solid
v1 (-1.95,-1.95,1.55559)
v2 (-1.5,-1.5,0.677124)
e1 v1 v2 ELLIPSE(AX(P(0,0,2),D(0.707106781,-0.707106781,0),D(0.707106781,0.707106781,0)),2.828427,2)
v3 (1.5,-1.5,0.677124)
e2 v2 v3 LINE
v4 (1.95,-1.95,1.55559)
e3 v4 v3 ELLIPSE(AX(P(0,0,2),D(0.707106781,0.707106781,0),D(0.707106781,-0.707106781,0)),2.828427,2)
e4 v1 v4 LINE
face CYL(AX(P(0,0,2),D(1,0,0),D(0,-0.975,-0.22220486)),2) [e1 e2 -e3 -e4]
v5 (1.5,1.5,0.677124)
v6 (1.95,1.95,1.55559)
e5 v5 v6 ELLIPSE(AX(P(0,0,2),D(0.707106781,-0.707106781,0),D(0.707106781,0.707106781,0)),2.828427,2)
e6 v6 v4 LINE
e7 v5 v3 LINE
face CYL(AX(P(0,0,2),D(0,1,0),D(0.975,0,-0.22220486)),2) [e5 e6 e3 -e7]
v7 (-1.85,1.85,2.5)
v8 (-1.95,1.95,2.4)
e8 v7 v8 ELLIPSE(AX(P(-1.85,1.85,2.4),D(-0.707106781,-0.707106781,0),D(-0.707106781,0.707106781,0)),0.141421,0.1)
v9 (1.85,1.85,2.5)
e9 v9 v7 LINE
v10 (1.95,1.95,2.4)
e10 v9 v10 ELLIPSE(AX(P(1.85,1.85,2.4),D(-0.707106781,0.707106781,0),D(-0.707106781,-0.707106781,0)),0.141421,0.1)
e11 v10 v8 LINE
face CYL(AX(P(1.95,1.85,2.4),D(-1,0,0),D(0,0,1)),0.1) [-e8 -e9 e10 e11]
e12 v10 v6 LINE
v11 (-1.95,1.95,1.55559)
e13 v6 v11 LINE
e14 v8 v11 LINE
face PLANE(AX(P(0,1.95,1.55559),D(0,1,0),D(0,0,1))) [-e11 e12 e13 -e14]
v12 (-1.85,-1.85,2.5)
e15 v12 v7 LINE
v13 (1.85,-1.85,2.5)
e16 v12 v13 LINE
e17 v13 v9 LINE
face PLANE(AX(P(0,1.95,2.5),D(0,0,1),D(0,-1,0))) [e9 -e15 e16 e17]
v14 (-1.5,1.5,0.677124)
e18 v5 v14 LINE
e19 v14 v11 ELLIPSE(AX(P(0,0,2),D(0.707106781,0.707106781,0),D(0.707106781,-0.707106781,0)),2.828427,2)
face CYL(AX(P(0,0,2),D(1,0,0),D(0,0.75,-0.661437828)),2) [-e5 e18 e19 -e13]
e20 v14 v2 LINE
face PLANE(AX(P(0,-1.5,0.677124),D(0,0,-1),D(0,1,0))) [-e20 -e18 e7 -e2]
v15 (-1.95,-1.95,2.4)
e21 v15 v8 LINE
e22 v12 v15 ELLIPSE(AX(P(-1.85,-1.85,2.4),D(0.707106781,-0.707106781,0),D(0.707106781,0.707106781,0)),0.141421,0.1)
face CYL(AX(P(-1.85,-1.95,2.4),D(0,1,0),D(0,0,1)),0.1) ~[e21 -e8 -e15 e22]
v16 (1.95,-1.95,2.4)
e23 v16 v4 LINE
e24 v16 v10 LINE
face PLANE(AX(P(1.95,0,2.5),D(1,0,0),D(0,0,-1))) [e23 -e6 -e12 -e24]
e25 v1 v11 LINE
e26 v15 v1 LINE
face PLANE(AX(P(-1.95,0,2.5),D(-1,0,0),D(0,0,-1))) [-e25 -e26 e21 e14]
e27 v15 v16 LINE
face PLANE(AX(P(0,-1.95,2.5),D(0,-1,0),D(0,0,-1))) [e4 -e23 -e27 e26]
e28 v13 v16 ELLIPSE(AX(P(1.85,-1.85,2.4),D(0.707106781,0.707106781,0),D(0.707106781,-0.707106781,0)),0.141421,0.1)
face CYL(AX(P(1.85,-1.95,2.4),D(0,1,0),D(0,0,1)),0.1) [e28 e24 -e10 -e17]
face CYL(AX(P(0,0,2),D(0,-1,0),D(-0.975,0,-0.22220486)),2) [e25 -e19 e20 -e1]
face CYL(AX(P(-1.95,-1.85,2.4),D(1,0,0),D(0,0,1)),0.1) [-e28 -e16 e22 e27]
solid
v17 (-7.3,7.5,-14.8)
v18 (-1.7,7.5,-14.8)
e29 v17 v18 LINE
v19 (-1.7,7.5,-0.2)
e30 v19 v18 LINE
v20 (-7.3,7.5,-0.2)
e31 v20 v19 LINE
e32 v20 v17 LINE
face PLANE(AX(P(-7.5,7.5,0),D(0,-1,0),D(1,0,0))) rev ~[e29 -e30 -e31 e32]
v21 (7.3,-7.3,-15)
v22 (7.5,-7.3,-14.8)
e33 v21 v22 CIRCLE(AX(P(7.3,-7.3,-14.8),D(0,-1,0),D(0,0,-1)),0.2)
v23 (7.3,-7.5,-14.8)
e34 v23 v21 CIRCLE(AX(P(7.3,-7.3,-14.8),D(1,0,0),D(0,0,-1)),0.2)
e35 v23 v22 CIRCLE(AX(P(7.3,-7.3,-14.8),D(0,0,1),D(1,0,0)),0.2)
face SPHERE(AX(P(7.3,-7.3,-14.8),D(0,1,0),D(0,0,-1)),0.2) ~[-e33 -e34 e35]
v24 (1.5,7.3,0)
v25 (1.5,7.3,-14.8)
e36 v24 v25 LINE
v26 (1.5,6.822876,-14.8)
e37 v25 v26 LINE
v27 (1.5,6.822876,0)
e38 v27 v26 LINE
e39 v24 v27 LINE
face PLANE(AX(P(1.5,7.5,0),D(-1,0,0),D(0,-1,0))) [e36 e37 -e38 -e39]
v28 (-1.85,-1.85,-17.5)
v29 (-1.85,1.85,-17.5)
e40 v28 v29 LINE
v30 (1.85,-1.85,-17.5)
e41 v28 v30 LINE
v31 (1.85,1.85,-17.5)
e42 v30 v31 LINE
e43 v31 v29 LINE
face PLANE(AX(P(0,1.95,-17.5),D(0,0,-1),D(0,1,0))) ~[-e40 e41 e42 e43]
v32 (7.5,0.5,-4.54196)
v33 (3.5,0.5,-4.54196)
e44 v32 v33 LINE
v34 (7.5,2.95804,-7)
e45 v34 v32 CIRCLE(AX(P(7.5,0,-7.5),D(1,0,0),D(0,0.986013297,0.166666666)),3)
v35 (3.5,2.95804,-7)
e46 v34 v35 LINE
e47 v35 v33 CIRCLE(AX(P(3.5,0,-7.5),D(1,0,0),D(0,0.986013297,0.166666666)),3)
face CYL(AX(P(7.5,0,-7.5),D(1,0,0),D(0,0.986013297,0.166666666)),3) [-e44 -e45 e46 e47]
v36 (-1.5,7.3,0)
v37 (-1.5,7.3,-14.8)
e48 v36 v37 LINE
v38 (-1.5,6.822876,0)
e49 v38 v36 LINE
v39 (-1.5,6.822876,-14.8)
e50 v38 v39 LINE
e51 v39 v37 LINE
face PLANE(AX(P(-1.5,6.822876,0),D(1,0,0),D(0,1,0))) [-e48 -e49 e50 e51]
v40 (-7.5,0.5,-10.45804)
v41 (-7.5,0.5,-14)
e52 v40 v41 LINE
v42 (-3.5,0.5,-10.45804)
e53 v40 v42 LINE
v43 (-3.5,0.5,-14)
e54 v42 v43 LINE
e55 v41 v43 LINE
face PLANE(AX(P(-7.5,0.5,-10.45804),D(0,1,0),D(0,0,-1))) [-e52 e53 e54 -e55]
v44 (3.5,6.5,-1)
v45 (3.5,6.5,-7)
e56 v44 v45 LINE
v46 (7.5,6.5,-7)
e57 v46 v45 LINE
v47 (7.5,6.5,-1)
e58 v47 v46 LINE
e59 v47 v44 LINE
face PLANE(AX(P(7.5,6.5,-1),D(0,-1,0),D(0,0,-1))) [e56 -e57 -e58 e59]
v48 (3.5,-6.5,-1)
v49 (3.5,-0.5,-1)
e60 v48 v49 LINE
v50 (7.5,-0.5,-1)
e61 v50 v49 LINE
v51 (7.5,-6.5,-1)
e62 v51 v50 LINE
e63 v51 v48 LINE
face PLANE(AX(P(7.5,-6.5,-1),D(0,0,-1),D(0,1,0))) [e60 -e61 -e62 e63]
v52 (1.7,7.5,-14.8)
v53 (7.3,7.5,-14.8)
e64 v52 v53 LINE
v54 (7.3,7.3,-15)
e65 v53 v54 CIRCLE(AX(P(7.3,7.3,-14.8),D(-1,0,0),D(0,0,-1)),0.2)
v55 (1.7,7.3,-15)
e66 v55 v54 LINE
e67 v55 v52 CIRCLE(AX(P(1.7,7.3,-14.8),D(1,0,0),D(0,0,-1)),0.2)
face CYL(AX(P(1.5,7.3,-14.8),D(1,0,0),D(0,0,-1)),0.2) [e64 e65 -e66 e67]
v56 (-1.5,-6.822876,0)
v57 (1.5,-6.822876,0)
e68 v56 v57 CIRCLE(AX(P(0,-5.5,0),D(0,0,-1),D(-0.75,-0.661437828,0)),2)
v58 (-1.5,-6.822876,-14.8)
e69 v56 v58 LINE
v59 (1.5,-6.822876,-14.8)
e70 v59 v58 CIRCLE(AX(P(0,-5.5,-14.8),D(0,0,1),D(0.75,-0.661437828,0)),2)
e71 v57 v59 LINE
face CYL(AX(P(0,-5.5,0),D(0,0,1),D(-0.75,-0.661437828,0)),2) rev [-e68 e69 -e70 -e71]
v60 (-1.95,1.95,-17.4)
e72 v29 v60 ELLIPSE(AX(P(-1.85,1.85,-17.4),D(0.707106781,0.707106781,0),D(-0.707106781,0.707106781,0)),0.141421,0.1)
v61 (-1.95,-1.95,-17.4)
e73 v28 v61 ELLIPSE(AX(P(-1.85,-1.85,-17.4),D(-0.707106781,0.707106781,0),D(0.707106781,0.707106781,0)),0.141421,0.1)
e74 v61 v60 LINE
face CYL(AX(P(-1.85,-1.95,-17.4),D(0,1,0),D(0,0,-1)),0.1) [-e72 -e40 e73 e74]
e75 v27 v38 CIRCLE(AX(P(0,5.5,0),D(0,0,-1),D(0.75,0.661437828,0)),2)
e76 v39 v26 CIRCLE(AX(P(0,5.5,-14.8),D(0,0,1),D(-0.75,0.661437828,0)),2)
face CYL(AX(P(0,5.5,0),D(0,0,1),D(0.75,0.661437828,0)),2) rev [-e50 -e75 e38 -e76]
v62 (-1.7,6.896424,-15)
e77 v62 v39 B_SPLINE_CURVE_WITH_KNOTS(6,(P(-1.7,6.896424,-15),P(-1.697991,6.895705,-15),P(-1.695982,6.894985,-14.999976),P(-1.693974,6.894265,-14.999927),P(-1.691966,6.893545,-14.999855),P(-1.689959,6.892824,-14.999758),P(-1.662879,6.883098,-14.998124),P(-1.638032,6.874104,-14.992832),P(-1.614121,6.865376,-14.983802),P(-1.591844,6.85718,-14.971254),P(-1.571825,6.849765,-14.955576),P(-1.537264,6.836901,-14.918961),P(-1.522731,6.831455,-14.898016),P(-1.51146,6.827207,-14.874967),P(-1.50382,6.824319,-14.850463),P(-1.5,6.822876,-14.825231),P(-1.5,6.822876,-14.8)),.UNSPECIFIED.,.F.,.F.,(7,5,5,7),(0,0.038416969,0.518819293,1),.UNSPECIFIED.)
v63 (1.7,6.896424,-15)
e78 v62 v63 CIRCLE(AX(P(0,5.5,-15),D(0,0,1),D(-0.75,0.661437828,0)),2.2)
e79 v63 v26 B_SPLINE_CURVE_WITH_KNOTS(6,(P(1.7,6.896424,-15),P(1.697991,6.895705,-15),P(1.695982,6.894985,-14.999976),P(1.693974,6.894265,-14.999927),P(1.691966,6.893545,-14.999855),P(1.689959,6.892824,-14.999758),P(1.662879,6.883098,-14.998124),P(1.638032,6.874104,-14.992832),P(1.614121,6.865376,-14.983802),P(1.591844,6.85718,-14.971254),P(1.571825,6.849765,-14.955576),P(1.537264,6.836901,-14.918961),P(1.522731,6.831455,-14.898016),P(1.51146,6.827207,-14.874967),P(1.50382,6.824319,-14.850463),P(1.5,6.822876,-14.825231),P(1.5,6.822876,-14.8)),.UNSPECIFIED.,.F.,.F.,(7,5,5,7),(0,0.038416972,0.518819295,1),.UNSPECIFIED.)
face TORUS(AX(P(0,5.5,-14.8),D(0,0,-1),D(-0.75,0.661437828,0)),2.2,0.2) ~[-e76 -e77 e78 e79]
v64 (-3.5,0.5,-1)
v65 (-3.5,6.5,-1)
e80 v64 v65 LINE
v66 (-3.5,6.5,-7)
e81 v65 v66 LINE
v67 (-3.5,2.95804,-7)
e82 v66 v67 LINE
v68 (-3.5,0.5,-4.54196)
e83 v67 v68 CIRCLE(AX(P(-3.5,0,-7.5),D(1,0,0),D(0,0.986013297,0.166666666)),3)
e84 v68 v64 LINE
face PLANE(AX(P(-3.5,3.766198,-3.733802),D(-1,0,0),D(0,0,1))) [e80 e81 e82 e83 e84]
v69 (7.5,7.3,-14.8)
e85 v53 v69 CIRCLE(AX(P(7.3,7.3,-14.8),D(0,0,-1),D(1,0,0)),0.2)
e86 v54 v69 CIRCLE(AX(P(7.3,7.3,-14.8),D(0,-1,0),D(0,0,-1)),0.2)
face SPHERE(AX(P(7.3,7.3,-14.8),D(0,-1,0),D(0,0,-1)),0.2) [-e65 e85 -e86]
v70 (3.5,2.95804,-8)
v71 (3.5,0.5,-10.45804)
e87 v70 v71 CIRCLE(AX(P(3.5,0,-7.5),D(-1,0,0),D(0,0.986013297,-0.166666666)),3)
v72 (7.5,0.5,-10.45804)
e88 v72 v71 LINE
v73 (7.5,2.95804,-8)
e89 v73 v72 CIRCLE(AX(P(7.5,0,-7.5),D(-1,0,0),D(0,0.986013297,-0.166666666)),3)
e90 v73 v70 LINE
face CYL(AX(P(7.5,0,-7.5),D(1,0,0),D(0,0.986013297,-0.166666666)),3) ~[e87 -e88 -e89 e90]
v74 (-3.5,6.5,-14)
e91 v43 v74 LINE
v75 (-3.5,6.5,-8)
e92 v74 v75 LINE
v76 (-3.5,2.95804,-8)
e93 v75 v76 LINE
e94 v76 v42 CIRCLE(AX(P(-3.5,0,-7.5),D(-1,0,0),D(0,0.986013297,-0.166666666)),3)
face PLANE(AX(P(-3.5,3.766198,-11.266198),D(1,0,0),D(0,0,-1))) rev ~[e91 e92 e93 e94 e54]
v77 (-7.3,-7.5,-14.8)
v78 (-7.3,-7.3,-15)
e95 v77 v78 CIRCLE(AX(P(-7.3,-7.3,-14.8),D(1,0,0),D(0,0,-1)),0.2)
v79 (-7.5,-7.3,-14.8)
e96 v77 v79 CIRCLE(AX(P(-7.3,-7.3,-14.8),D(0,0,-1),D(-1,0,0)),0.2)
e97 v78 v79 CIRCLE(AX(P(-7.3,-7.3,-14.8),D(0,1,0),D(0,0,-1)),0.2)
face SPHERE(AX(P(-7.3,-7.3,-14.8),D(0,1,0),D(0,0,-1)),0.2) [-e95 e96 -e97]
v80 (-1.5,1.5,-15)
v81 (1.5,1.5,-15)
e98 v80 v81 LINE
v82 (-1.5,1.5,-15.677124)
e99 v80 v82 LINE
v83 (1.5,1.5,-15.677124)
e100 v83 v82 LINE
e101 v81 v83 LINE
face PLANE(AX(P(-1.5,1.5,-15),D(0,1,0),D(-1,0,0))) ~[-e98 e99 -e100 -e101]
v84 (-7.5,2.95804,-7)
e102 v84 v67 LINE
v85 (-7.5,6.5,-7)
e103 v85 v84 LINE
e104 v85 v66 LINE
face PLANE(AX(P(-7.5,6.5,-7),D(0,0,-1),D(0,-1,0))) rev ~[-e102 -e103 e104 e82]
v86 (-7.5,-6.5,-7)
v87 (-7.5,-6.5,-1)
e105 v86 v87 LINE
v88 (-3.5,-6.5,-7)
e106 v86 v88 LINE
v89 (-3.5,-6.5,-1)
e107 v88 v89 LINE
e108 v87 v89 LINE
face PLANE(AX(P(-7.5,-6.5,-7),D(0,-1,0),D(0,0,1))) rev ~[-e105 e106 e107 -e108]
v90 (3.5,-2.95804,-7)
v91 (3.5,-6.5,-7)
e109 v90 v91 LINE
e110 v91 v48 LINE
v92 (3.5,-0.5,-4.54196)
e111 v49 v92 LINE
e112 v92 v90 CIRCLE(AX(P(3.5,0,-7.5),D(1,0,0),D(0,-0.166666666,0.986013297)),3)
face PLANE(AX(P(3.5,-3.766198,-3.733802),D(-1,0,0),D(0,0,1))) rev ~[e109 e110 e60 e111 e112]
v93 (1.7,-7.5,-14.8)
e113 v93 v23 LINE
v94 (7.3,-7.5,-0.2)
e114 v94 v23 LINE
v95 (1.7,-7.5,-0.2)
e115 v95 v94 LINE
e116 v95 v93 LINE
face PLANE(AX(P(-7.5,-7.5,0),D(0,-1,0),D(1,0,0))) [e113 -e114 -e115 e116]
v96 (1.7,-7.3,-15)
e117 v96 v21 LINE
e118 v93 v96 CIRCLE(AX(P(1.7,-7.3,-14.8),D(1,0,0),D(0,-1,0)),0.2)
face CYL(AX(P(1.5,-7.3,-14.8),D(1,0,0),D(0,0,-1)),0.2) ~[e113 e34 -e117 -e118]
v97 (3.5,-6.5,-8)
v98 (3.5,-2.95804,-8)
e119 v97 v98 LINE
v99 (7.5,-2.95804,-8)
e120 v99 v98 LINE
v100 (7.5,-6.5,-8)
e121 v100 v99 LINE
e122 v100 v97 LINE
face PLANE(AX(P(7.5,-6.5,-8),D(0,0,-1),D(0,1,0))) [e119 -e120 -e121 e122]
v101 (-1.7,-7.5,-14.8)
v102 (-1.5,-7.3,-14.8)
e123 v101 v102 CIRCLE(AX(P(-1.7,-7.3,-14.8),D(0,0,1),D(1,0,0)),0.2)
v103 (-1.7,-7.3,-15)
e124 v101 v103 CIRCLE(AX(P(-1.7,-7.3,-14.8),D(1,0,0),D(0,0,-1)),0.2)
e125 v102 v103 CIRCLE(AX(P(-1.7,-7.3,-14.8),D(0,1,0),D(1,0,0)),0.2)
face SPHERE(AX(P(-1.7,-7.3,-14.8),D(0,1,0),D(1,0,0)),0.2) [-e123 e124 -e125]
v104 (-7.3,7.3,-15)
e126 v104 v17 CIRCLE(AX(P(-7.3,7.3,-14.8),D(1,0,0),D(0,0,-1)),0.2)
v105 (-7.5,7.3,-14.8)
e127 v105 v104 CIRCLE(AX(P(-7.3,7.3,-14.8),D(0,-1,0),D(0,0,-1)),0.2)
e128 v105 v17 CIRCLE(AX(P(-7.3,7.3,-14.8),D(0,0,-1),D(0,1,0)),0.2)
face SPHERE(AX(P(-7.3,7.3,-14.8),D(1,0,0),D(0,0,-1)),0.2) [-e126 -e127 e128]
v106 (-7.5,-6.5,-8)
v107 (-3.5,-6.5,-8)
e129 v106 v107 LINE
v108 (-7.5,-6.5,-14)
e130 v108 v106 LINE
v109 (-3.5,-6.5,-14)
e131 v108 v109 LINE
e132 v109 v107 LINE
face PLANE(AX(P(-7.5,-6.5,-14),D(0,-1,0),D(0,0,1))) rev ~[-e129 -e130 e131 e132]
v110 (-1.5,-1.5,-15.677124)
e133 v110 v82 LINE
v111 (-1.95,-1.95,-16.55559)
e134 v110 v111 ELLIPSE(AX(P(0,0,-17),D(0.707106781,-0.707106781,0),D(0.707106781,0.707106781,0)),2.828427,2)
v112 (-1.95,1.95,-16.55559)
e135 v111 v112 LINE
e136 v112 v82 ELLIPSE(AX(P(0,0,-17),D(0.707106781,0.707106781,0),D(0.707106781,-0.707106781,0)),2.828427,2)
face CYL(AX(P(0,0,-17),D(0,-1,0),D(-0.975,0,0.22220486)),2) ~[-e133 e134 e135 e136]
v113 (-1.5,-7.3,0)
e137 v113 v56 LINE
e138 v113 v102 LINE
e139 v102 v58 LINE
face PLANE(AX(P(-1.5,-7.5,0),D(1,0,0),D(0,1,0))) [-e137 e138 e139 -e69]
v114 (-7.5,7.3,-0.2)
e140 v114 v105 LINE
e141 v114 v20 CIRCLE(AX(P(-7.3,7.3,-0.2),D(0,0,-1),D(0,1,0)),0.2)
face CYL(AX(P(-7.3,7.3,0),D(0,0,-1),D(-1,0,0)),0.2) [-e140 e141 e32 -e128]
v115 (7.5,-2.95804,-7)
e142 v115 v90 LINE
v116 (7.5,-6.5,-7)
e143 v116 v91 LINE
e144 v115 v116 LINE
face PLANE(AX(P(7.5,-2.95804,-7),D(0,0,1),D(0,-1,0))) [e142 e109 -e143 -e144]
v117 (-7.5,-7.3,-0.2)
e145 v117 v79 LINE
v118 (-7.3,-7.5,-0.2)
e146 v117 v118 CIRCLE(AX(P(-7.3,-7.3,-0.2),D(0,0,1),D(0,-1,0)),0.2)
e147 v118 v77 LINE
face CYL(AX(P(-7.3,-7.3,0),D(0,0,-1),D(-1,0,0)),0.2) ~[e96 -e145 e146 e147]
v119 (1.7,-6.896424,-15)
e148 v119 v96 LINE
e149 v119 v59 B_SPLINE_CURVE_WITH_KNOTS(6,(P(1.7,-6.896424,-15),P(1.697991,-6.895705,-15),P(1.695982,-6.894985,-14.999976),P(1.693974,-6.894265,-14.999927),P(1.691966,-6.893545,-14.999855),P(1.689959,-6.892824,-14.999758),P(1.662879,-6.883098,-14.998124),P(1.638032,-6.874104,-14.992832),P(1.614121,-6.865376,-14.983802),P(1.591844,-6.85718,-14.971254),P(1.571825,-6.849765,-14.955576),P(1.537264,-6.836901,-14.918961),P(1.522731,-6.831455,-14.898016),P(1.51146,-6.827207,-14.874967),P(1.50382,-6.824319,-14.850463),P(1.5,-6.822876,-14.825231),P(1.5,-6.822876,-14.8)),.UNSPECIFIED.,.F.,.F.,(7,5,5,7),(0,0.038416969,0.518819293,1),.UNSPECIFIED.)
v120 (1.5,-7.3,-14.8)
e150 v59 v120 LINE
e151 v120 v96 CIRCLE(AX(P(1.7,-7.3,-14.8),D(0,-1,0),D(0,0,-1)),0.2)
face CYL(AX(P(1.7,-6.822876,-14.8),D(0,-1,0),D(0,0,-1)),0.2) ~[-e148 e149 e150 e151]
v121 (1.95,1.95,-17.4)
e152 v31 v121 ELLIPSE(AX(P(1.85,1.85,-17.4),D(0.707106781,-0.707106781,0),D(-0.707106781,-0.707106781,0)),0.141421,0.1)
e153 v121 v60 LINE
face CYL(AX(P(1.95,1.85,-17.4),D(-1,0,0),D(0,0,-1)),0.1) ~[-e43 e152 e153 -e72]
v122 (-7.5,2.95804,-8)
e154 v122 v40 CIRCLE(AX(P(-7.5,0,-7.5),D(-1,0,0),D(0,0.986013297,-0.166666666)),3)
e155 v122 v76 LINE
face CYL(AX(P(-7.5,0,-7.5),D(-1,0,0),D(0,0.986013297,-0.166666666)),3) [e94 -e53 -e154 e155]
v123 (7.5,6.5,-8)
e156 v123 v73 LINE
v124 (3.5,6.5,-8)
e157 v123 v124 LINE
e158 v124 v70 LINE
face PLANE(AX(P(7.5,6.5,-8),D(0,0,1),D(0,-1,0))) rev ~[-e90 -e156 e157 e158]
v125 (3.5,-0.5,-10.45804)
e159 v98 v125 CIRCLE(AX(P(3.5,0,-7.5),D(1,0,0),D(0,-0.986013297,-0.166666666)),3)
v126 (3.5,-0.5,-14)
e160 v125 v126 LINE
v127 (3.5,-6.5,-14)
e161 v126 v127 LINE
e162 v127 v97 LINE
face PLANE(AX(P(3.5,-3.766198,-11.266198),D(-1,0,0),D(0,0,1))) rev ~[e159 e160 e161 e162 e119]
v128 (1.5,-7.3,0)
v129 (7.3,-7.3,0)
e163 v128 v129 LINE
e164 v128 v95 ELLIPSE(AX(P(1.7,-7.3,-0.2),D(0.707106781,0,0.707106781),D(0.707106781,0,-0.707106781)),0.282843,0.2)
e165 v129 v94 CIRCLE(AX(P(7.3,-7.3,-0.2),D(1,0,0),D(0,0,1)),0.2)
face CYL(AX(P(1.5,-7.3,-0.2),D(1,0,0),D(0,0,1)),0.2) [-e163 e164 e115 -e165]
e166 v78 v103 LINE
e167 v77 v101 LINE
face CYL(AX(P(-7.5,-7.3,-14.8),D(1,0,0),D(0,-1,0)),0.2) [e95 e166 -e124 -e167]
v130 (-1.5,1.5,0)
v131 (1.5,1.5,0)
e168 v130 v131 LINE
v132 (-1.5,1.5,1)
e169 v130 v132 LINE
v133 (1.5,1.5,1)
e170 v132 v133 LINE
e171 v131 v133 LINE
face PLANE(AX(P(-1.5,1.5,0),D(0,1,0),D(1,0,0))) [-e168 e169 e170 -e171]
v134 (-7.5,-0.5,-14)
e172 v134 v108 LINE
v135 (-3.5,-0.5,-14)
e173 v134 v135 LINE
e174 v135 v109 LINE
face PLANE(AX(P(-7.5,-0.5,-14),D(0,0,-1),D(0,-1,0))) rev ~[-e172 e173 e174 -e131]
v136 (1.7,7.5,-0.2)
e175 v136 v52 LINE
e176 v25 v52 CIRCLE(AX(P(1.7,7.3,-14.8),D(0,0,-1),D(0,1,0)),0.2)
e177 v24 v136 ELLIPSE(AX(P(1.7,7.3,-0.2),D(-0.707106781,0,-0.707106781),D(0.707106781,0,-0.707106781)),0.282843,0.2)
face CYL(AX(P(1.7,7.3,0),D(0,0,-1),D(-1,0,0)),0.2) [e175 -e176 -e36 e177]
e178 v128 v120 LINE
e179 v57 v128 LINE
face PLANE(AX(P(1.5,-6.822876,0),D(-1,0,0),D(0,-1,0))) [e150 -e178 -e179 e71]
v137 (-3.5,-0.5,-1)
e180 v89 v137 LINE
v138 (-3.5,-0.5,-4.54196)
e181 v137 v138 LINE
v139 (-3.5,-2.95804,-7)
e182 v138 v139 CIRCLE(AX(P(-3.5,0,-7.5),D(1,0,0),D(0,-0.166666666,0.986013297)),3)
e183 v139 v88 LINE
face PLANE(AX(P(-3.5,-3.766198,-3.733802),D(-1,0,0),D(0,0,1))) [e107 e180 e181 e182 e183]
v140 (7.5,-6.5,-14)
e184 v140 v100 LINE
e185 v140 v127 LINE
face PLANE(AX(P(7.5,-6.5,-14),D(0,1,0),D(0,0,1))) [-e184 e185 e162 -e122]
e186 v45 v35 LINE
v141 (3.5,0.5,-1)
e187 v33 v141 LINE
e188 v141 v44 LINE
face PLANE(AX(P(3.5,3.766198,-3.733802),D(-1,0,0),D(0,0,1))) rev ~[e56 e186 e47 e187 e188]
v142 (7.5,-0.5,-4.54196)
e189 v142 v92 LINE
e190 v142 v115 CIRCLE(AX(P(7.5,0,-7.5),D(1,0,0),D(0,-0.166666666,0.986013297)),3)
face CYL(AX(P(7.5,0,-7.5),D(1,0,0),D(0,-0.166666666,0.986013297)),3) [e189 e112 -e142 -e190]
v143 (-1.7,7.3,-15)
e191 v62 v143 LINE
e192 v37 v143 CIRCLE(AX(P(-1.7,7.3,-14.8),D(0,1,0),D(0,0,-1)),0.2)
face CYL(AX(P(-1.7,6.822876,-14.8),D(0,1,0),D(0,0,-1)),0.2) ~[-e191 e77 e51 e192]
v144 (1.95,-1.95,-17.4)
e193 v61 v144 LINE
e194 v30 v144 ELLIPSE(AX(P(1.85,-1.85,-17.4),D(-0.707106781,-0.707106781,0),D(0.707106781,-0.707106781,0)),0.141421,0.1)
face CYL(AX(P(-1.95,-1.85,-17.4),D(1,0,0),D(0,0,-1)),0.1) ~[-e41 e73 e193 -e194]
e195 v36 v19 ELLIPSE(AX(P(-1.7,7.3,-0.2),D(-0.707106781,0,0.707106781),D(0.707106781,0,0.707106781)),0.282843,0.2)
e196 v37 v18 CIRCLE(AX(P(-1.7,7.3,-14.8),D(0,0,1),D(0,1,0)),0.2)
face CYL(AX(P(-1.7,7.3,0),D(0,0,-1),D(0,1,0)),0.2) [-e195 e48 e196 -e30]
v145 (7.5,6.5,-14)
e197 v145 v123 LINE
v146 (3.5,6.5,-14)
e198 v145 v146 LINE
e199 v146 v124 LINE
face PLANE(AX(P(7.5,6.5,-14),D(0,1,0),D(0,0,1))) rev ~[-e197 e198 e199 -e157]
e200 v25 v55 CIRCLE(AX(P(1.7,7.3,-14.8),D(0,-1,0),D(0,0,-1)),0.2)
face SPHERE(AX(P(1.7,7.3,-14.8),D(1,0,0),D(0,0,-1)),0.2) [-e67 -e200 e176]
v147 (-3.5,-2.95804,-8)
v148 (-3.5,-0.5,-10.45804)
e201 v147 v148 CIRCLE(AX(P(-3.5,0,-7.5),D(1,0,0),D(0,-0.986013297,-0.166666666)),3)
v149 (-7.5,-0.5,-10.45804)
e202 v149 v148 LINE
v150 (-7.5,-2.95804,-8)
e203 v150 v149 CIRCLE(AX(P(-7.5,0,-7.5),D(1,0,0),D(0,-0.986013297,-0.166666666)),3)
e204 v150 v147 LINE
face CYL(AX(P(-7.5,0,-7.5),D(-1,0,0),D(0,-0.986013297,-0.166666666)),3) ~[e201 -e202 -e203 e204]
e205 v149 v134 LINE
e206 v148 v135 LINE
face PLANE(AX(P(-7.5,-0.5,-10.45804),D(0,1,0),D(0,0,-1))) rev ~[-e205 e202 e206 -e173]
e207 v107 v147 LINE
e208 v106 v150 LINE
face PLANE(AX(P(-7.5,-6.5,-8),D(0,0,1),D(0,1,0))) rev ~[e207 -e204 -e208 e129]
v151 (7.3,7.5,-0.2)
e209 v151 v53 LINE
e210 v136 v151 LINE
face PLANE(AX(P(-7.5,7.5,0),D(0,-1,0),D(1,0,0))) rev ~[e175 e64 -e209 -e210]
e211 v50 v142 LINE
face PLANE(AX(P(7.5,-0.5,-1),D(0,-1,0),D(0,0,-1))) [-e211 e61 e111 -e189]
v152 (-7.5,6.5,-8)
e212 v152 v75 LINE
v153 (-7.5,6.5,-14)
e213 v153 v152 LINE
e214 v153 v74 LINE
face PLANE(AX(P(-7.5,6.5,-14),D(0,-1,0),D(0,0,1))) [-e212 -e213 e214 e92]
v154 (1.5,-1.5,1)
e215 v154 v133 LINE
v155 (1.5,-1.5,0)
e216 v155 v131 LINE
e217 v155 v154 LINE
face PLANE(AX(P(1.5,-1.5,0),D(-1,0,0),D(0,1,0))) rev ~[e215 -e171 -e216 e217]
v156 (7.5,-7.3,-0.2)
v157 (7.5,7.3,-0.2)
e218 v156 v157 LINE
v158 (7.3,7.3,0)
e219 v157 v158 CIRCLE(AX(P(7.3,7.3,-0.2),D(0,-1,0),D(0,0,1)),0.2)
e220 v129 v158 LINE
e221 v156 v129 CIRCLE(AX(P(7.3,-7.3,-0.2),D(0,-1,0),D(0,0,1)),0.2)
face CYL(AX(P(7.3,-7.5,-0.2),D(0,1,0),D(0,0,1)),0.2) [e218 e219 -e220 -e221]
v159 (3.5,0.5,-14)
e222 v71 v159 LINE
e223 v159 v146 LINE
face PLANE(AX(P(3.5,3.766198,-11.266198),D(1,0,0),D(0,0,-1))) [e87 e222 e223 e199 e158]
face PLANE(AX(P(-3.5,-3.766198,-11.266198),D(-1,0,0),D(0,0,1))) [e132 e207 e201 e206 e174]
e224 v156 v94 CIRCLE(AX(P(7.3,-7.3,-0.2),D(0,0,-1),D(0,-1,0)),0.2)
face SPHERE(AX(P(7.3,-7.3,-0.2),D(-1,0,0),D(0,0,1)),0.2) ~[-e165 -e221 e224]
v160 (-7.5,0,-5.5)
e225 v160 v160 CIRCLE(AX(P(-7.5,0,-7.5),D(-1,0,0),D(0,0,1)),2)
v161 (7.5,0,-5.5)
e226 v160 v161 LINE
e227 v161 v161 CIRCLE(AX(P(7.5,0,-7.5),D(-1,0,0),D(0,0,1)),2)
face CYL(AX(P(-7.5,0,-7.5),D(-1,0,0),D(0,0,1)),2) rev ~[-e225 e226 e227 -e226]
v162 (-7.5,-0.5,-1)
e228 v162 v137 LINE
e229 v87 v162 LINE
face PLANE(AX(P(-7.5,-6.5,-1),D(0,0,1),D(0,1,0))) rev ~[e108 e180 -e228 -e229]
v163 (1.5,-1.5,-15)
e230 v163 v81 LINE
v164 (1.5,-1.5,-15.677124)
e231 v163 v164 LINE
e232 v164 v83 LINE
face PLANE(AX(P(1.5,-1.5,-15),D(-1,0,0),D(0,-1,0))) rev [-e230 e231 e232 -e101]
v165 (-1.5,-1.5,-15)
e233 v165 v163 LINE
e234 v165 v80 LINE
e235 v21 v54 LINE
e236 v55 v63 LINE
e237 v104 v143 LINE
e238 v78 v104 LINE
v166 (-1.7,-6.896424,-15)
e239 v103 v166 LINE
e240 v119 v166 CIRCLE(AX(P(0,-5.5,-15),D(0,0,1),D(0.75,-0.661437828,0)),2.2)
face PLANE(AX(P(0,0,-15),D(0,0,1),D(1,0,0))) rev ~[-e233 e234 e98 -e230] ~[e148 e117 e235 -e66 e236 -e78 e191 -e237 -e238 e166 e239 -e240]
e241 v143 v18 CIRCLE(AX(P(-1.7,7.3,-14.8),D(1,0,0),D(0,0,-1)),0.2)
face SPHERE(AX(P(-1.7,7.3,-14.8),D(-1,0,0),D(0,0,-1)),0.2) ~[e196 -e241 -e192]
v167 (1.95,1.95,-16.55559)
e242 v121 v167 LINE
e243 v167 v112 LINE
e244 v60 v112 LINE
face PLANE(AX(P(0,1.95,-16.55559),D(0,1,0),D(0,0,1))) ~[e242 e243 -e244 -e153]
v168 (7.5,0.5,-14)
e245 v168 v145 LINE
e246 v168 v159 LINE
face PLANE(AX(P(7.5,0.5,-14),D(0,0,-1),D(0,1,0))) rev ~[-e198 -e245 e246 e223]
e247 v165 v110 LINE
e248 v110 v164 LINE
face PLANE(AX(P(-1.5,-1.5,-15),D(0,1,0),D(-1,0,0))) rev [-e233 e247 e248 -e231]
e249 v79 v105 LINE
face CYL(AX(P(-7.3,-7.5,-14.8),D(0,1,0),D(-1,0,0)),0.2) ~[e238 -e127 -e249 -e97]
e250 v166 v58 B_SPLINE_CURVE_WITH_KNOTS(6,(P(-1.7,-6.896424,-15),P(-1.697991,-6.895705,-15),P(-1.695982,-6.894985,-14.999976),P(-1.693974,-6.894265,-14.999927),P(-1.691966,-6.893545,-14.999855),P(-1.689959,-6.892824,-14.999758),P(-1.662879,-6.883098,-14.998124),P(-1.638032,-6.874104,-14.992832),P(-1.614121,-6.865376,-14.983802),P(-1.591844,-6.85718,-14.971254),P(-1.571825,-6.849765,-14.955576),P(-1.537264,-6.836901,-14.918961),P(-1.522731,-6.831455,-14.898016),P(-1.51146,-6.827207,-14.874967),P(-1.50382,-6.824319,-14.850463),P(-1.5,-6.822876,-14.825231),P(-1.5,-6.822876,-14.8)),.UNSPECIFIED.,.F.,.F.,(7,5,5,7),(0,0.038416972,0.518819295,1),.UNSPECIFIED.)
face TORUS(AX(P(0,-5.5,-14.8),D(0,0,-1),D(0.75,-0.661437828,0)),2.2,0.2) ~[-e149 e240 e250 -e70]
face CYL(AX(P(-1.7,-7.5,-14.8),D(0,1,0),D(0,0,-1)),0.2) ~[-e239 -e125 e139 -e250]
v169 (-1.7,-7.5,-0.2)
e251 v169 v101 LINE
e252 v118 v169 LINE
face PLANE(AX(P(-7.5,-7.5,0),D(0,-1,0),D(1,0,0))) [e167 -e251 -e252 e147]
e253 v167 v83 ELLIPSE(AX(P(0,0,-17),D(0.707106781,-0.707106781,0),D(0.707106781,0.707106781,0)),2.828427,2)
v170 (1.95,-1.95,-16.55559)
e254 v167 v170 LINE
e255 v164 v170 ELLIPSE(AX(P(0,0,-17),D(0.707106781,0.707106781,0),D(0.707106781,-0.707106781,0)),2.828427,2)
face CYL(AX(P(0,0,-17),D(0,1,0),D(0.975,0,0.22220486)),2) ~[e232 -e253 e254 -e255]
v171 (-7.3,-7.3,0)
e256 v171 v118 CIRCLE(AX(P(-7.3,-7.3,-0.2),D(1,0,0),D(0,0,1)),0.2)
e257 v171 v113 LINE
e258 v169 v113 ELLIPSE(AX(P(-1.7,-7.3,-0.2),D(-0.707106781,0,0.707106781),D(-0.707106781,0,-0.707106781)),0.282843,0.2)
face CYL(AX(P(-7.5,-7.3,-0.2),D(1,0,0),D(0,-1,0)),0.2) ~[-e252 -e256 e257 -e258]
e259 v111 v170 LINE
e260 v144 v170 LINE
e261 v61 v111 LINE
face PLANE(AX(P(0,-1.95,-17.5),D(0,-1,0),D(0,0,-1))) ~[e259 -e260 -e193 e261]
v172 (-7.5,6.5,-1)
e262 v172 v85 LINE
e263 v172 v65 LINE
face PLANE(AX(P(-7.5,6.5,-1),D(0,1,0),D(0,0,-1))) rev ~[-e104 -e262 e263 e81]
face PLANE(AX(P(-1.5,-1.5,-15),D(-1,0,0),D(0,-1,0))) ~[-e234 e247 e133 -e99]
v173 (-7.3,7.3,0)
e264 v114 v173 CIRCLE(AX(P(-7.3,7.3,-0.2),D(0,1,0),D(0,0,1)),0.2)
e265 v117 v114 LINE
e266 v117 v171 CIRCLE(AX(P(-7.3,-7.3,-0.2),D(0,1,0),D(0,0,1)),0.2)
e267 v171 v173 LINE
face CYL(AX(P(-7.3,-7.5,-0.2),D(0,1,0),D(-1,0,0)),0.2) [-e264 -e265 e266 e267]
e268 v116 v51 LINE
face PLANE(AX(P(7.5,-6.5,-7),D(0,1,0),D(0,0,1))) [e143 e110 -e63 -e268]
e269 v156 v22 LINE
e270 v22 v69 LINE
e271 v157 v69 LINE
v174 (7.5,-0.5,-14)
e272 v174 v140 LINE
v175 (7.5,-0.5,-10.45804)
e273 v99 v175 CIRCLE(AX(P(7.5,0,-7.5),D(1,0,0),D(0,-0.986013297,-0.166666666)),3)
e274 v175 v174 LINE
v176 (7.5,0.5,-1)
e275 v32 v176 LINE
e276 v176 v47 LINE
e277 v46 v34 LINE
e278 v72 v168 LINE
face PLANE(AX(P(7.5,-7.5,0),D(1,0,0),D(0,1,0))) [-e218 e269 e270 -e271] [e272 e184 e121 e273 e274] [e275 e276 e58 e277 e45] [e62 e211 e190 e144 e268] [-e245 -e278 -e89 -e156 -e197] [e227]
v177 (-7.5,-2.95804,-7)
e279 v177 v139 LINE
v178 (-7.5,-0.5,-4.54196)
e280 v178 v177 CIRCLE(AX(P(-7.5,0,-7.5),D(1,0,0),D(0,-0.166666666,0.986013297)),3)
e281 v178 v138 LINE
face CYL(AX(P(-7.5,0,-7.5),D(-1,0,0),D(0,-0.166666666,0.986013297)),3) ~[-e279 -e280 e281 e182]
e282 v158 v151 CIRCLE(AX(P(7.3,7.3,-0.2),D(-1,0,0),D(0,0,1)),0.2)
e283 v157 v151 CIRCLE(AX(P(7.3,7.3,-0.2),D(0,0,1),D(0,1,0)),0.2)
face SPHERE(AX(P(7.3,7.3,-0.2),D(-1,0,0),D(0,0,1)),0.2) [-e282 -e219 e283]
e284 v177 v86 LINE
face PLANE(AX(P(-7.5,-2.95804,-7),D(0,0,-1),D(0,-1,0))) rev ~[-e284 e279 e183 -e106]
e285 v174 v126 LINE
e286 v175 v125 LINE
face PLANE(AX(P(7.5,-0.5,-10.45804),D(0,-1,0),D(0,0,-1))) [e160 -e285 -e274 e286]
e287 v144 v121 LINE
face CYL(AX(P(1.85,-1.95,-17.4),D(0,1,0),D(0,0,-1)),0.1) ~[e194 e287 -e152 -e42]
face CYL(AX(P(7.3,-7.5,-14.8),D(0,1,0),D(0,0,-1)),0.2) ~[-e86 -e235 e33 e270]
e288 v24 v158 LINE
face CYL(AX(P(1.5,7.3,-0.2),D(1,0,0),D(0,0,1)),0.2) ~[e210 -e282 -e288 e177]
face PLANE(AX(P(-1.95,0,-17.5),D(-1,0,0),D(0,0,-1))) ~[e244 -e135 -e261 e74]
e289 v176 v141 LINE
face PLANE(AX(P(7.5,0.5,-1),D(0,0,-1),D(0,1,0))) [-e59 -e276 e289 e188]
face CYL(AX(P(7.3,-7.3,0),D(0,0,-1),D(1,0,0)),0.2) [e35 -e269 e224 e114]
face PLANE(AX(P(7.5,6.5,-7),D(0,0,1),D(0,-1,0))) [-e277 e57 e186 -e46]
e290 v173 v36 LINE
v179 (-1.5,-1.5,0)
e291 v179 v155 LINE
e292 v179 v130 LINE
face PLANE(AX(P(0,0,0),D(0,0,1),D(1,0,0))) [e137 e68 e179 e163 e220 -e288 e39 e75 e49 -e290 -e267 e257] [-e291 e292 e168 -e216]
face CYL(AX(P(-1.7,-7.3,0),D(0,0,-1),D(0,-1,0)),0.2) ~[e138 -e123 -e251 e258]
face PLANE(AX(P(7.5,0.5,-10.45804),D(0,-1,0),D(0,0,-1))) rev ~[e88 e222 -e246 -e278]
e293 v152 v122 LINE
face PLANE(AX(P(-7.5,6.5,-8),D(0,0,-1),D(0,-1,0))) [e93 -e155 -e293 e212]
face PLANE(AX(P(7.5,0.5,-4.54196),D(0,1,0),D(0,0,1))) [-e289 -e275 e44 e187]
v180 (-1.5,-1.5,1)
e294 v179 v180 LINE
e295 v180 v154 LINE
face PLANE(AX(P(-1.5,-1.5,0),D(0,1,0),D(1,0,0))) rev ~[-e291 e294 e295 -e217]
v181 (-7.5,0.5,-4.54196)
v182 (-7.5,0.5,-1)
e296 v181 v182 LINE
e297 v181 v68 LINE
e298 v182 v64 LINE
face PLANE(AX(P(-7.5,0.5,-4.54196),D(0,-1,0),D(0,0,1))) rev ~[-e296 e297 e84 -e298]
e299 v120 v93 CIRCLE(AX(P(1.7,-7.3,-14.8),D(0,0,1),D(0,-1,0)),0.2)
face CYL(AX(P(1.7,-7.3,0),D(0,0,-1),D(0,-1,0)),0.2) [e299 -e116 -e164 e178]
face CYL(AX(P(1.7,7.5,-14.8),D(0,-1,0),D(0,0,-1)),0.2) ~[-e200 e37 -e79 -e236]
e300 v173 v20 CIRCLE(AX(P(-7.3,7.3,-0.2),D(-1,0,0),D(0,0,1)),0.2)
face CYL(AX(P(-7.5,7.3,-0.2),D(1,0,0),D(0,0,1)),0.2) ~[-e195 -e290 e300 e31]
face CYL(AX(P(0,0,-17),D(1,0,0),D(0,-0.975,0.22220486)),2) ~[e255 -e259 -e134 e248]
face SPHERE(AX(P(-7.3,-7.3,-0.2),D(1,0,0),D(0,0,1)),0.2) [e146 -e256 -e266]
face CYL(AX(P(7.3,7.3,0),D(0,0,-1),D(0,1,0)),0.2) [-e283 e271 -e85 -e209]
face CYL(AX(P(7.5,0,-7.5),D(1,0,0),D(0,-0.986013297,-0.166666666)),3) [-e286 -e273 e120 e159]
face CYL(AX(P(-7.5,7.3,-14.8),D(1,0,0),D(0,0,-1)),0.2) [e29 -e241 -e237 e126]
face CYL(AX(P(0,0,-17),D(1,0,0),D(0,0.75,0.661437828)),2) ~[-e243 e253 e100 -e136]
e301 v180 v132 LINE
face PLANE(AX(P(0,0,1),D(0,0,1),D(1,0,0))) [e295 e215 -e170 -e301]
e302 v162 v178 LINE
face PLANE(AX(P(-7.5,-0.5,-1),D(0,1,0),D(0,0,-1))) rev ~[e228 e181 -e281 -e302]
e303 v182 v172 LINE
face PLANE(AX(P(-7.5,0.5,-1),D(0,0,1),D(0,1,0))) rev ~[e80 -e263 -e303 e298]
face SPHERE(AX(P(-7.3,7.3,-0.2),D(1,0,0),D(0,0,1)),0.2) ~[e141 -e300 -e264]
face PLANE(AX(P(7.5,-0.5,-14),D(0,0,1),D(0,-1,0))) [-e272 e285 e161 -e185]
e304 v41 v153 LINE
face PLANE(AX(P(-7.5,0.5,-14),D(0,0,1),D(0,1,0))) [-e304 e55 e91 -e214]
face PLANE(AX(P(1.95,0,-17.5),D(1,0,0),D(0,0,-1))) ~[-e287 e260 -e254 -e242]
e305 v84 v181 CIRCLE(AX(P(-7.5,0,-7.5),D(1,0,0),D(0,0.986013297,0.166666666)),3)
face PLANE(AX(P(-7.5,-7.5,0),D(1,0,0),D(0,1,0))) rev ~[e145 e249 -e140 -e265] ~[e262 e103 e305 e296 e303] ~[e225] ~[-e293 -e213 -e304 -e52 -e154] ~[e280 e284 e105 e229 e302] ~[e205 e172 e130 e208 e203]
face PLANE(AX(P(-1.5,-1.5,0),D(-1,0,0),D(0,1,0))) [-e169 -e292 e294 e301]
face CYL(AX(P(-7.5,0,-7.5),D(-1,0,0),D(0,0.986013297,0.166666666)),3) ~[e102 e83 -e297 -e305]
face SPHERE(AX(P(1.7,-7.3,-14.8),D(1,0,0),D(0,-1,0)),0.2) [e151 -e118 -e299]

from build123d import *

# Parameters (mm, degrees)
SKETCH_1_W             = 15
SKETCH_1_H             = 15
EXTRUDE_1_DEPTH        = 15
SKETCH_2_W             = 3
SKETCH_2_H             = 3
EXTRUDE_2_DEPTH        = 1
EXTRUDE_3_DEPTH        = 4
CUT_EXTRUDE_1_DEPTH    = 1.95
SKETCH_5_R             = 2
CUT_EXTRUDE_2_DEPTH    = 23.5
CUT_EXTRUDE_3_DEPTH    = 4
CUT_EXTRUDE_START      = -15
CUT_EXTRUDE_4_DEPTH    = 4
CUT_EXTRUDE_5_DEPTH    = 19.371173071
FILLET_1_R             = 0.1
FILLET_2_R             = 0.2
FILLET_1_OF_MIRROR_2_R = 0.1


with BuildPart() as part:
    # 草图1 → 凸台-拉伸1 (new body)
    with BuildSketch(Plane.XY):
        Rectangle(SKETCH_1_W, SKETCH_1_H)
    extrude(amount=-EXTRUDE_1_DEPTH)

    # 草图2 → 凸台-拉伸2 (add)
    with BuildSketch(Plane.XY):
        Rectangle(SKETCH_2_W, SKETCH_2_H)
    extrude_2 = extrude(amount=EXTRUDE_2_DEPTH)

    # 草图5 → 切除-拉伸2 (cut, through all)
    with BuildSketch(Plane.ZY.offset(7.5)):
        with Locations((-7.5, 0)):
            Circle(SKETCH_5_R)
    extrude(amount=-CUT_EXTRUDE_2_DEPTH, mode=Mode.SUBTRACT)

    # 草图6 → 切除-拉伸3 (cut)
    with BuildSketch(Plane.ZY.offset(7.5)):
        with BuildLine():
            Line((-8, 6.5), (-8, 2.958039892))
            ThreePointArc((-8, 2.958039892), (-9.621320344, 2.121320344), (-10.458039892, 0.5))
            Line((-10.458039892, 0.5), (-14, 0.5))
            Line((-14, 0.5), (-14, 6.5))
            Line((-14, 6.5), (-8, 6.5))
        make_face()
        with BuildLine():
            Line((-14, -6.5), (-8, -6.5))
            Line((-8, -6.5), (-8, -2.958039892))
            ThreePointArc((-8, -2.958039892), (-9.621320344, -2.121320344), (-10.458039892, -0.5))
            Line((-10.458039892, -0.5), (-14, -0.5))
            Line((-14, -0.5), (-14, -6.5))
        make_face()
        with BuildLine():
            Line((-1, -6.5), (-1, -0.5))
            Line((-1, -0.5), (-4.541960108, -0.5))
            ThreePointArc((-4.541960108, -0.5), (-5.378679656, -2.121320344), (-7, -2.958039892))
            Line((-7, -2.958039892), (-7, -6.5))
            Line((-7, -6.5), (-1, -6.5))
        make_face()
        with BuildLine():
            Line((-7, 6.5), (-7, 2.958039892))
            ThreePointArc((-7, 2.958039892), (-5.378679656, 2.121320344), (-4.541960108, 0.5))
            Line((-4.541960108, 0.5), (-1, 0.5))
            Line((-1, 0.5), (-1, 6.5))
            Line((-1, 6.5), (-7, 6.5))
        make_face()
    extrude(amount=-CUT_EXTRUDE_3_DEPTH, mode=Mode.SUBTRACT)

    # 草图6<2> → 切除-拉伸4 (cut)
    with BuildSketch(Plane.ZY.offset(7.5).offset(CUT_EXTRUDE_START)):
        with BuildLine():
            Line((-8, 6.5), (-8, 2.958039892))
            ThreePointArc((-8, 2.958039892), (-9.621320344, 2.121320344), (-10.458039892, 0.5))
            Line((-10.458039892, 0.5), (-14, 0.5))
            Line((-14, 0.5), (-14, 6.5))
            Line((-14, 6.5), (-8, 6.5))
        make_face()
        with BuildLine():
            Line((-14, -6.5), (-8, -6.5))
            Line((-8, -6.5), (-8, -2.958039892))
            ThreePointArc((-8, -2.958039892), (-9.621320344, -2.121320344), (-10.458039892, -0.5))
            Line((-10.458039892, -0.5), (-14, -0.5))
            Line((-14, -0.5), (-14, -6.5))
        make_face()
        with BuildLine():
            Line((-1, -6.5), (-1, -0.5))
            Line((-1, -0.5), (-4.541960108, -0.5))
            ThreePointArc((-4.541960108, -0.5), (-5.378679656, -2.121320344), (-7, -2.958039892))
            Line((-7, -2.958039892), (-7, -6.5))
            Line((-7, -6.5), (-1, -6.5))
        make_face()
        with BuildLine():
            Line((-7, 6.5), (-7, 2.958039892))
            ThreePointArc((-7, 2.958039892), (-5.378679656, 2.121320344), (-4.541960108, 0.5))
            Line((-4.541960108, 0.5), (-1, 0.5))
            Line((-1, 0.5), (-1, 6.5))
            Line((-1, 6.5), (-7, 6.5))
        make_face()
    extrude(amount=CUT_EXTRUDE_4_DEPTH, mode=Mode.SUBTRACT)

    # 草图7 → 切除-拉伸5 (cut, through all)
    with BuildSketch(Plane.XY):
        with BuildLine():
            Line((-1.5, -7.5), (-1.5, -6.822875656))
            ThreePointArc((-1.5, -6.822875656), (0, -3.5), (1.5, -6.822875656))
            Line((1.5, -6.822875656), (1.5, -7.5))
            Line((1.5, -7.5), (-1.5, -7.5))
        make_face()
        with BuildLine():
            Line((-1.5, 7.5), (1.5, 7.5))
            Line((1.5, 7.5), (1.5, 6.822875656))
            ThreePointArc((1.5, 6.822875656), (0, 3.5), (-1.5, 6.822875656))
            Line((-1.5, 6.822875656), (-1.5, 7.5))
        make_face()
    extrude(amount=-CUT_EXTRUDE_5_DEPTH, mode=Mode.SUBTRACT)

    # 圆角2
    fillet_2_edges = [part.edges().sort_by_distance(p)[0] for p in [
        (7.5, 0, -15),
        (4.5, 7.5, -15),
        (-4.5, 7.5, -15),
        (-4.5, 7.5, 0),
        (0, 3.5, -15),
        (-1.5, 7.161437828, -15),
        (-1.5, 7.5, -7.5),
        (1.5, 7.161437828, -15),
        (1.5, 7.5, -7.5),
        (4.5, -7.5, -15),
        (4.5, -7.5, 0),
        (1.5, -7.5, -7.5),
        (-1.5, -7.161437828, -15),
        (-1.5, -7.5, -7.5),
        (0, -3.5, -15),
        (1.5, -7.161437828, -15),
        (-7.5, 0, -15),
        (4.5, 7.5, 0),
        (7.5, 0, 0),
        (-4.5, -7.5, 0),
        (-7.5, 0, 0),
        (-4.5, -7.5, -15),
        (-7.5, 7.5, -7.5),
        (7.5, 7.5, -7.5),
        (7.5, -7.5, -7.5),
        (-7.5, -7.5, -7.5),
    ]]
    fillet(fillet_2_edges, radius=FILLET_2_R)


with BuildPart() as body_2:
    # 草图3 → 凸台-拉伸3 (new, symmetric)
    with BuildSketch(Plane(origin=(0, 0, 0), x_dir=(0, 0, -1), z_dir=(1, 0, 0))):
        with BuildLine():
            Line((-2.5, 1.95), (-2.5, -1.95))
            Line((-2.5, -1.95), (-1.555590279, -1.95))
            ThreePointArc((-1.555590279, -1.95), (-1.088161527, -1.780042303), (-0.677124344, -1.5))
            Line((-0.677124344, -1.5), (-0.677124344, 1.5))
            ThreePointArc((-0.677124344, 1.5), (-1.088161527, 1.780042303), (-1.555590279, 1.95))
            Line((-1.555590279, 1.95), (-2.5, 1.95))
        make_face()
    extrude_3 = extrude(amount=EXTRUDE_3_DEPTH, both=True)

    # 草图4 → 切除-拉伸1 (cut, symmetric)
    with BuildSketch(Plane(origin=(0, 0, 0), x_dir=(1, 0, 0), z_dir=(0, 1, 0))):
        with BuildLine():
            Line((-4, -2.5), (-1.95, -2.5))
            Line((-1.95, -2.5), (-1.95, -1.555590279))
            ThreePointArc((-1.95, -1.555590279), (-1.780042303, -1.088161527), (-1.5, -0.677124344))
            Line((-1.5, -0.677124344), (-4, -0.677124344))
            Line((-4, -0.677124344), (-4, -2.5))
        make_face()
        with BuildLine():
            Line((1.95, -2.5), (1.95, -1.555590279))
            ThreePointArc((1.95, -1.555590279), (1.780042303, -1.088161527), (1.5, -0.677124344))
            Line((1.5, -0.677124344), (4, -0.677124344))
            Line((4, -0.677124344), (4, -2.5))
            Line((4, -2.5), (1.95, -2.5))
        make_face()
    cut_extrude_1 = extrude(amount=CUT_EXTRUDE_1_DEPTH, both=True, mode=Mode.SUBTRACT)

    # 圆角1
    fillet_1_edges = [body_2.edges().sort_by_distance(p)[0] for p in [
        (0, 1.95, 2.5),
        (0, -1.95, 2.5),
        (-1.95, 0, 2.5),
        (1.95, 0, 2.5),
    ]]
    fillet(fillet_1_edges, radius=FILLET_1_R)


with BuildPart() as part_1:
    add(part.part)

    # 镜向2: 凸台-拉伸2, 凸台-拉伸3, 切除-拉伸1 across plane
    add(extrude_2.mirror(Plane.XY.offset(-7.5)))
    add(extrude_3.mirror(Plane.XY.offset(-7.5)))
    add(cut_extrude_1.mirror(Plane.XY.offset(-7.5)), mode=Mode.SUBTRACT)

    # 圆角1 of 镜向2
    fillet_1_of_mirror_2_edges = [part_1.edges().sort_by_distance(p)[0] for p in [
        (0, 1.95, -17.5),
        (0, -1.95, -17.5),
        (-1.95, 0, -17.5),
        (1.95, 0, -17.5),
    ]]
    fillet(fillet_1_of_mirror_2_edges, radius=FILLET_1_OF_MIRROR_2_R)


solid = Compound([body_2.part, part_1.part])
